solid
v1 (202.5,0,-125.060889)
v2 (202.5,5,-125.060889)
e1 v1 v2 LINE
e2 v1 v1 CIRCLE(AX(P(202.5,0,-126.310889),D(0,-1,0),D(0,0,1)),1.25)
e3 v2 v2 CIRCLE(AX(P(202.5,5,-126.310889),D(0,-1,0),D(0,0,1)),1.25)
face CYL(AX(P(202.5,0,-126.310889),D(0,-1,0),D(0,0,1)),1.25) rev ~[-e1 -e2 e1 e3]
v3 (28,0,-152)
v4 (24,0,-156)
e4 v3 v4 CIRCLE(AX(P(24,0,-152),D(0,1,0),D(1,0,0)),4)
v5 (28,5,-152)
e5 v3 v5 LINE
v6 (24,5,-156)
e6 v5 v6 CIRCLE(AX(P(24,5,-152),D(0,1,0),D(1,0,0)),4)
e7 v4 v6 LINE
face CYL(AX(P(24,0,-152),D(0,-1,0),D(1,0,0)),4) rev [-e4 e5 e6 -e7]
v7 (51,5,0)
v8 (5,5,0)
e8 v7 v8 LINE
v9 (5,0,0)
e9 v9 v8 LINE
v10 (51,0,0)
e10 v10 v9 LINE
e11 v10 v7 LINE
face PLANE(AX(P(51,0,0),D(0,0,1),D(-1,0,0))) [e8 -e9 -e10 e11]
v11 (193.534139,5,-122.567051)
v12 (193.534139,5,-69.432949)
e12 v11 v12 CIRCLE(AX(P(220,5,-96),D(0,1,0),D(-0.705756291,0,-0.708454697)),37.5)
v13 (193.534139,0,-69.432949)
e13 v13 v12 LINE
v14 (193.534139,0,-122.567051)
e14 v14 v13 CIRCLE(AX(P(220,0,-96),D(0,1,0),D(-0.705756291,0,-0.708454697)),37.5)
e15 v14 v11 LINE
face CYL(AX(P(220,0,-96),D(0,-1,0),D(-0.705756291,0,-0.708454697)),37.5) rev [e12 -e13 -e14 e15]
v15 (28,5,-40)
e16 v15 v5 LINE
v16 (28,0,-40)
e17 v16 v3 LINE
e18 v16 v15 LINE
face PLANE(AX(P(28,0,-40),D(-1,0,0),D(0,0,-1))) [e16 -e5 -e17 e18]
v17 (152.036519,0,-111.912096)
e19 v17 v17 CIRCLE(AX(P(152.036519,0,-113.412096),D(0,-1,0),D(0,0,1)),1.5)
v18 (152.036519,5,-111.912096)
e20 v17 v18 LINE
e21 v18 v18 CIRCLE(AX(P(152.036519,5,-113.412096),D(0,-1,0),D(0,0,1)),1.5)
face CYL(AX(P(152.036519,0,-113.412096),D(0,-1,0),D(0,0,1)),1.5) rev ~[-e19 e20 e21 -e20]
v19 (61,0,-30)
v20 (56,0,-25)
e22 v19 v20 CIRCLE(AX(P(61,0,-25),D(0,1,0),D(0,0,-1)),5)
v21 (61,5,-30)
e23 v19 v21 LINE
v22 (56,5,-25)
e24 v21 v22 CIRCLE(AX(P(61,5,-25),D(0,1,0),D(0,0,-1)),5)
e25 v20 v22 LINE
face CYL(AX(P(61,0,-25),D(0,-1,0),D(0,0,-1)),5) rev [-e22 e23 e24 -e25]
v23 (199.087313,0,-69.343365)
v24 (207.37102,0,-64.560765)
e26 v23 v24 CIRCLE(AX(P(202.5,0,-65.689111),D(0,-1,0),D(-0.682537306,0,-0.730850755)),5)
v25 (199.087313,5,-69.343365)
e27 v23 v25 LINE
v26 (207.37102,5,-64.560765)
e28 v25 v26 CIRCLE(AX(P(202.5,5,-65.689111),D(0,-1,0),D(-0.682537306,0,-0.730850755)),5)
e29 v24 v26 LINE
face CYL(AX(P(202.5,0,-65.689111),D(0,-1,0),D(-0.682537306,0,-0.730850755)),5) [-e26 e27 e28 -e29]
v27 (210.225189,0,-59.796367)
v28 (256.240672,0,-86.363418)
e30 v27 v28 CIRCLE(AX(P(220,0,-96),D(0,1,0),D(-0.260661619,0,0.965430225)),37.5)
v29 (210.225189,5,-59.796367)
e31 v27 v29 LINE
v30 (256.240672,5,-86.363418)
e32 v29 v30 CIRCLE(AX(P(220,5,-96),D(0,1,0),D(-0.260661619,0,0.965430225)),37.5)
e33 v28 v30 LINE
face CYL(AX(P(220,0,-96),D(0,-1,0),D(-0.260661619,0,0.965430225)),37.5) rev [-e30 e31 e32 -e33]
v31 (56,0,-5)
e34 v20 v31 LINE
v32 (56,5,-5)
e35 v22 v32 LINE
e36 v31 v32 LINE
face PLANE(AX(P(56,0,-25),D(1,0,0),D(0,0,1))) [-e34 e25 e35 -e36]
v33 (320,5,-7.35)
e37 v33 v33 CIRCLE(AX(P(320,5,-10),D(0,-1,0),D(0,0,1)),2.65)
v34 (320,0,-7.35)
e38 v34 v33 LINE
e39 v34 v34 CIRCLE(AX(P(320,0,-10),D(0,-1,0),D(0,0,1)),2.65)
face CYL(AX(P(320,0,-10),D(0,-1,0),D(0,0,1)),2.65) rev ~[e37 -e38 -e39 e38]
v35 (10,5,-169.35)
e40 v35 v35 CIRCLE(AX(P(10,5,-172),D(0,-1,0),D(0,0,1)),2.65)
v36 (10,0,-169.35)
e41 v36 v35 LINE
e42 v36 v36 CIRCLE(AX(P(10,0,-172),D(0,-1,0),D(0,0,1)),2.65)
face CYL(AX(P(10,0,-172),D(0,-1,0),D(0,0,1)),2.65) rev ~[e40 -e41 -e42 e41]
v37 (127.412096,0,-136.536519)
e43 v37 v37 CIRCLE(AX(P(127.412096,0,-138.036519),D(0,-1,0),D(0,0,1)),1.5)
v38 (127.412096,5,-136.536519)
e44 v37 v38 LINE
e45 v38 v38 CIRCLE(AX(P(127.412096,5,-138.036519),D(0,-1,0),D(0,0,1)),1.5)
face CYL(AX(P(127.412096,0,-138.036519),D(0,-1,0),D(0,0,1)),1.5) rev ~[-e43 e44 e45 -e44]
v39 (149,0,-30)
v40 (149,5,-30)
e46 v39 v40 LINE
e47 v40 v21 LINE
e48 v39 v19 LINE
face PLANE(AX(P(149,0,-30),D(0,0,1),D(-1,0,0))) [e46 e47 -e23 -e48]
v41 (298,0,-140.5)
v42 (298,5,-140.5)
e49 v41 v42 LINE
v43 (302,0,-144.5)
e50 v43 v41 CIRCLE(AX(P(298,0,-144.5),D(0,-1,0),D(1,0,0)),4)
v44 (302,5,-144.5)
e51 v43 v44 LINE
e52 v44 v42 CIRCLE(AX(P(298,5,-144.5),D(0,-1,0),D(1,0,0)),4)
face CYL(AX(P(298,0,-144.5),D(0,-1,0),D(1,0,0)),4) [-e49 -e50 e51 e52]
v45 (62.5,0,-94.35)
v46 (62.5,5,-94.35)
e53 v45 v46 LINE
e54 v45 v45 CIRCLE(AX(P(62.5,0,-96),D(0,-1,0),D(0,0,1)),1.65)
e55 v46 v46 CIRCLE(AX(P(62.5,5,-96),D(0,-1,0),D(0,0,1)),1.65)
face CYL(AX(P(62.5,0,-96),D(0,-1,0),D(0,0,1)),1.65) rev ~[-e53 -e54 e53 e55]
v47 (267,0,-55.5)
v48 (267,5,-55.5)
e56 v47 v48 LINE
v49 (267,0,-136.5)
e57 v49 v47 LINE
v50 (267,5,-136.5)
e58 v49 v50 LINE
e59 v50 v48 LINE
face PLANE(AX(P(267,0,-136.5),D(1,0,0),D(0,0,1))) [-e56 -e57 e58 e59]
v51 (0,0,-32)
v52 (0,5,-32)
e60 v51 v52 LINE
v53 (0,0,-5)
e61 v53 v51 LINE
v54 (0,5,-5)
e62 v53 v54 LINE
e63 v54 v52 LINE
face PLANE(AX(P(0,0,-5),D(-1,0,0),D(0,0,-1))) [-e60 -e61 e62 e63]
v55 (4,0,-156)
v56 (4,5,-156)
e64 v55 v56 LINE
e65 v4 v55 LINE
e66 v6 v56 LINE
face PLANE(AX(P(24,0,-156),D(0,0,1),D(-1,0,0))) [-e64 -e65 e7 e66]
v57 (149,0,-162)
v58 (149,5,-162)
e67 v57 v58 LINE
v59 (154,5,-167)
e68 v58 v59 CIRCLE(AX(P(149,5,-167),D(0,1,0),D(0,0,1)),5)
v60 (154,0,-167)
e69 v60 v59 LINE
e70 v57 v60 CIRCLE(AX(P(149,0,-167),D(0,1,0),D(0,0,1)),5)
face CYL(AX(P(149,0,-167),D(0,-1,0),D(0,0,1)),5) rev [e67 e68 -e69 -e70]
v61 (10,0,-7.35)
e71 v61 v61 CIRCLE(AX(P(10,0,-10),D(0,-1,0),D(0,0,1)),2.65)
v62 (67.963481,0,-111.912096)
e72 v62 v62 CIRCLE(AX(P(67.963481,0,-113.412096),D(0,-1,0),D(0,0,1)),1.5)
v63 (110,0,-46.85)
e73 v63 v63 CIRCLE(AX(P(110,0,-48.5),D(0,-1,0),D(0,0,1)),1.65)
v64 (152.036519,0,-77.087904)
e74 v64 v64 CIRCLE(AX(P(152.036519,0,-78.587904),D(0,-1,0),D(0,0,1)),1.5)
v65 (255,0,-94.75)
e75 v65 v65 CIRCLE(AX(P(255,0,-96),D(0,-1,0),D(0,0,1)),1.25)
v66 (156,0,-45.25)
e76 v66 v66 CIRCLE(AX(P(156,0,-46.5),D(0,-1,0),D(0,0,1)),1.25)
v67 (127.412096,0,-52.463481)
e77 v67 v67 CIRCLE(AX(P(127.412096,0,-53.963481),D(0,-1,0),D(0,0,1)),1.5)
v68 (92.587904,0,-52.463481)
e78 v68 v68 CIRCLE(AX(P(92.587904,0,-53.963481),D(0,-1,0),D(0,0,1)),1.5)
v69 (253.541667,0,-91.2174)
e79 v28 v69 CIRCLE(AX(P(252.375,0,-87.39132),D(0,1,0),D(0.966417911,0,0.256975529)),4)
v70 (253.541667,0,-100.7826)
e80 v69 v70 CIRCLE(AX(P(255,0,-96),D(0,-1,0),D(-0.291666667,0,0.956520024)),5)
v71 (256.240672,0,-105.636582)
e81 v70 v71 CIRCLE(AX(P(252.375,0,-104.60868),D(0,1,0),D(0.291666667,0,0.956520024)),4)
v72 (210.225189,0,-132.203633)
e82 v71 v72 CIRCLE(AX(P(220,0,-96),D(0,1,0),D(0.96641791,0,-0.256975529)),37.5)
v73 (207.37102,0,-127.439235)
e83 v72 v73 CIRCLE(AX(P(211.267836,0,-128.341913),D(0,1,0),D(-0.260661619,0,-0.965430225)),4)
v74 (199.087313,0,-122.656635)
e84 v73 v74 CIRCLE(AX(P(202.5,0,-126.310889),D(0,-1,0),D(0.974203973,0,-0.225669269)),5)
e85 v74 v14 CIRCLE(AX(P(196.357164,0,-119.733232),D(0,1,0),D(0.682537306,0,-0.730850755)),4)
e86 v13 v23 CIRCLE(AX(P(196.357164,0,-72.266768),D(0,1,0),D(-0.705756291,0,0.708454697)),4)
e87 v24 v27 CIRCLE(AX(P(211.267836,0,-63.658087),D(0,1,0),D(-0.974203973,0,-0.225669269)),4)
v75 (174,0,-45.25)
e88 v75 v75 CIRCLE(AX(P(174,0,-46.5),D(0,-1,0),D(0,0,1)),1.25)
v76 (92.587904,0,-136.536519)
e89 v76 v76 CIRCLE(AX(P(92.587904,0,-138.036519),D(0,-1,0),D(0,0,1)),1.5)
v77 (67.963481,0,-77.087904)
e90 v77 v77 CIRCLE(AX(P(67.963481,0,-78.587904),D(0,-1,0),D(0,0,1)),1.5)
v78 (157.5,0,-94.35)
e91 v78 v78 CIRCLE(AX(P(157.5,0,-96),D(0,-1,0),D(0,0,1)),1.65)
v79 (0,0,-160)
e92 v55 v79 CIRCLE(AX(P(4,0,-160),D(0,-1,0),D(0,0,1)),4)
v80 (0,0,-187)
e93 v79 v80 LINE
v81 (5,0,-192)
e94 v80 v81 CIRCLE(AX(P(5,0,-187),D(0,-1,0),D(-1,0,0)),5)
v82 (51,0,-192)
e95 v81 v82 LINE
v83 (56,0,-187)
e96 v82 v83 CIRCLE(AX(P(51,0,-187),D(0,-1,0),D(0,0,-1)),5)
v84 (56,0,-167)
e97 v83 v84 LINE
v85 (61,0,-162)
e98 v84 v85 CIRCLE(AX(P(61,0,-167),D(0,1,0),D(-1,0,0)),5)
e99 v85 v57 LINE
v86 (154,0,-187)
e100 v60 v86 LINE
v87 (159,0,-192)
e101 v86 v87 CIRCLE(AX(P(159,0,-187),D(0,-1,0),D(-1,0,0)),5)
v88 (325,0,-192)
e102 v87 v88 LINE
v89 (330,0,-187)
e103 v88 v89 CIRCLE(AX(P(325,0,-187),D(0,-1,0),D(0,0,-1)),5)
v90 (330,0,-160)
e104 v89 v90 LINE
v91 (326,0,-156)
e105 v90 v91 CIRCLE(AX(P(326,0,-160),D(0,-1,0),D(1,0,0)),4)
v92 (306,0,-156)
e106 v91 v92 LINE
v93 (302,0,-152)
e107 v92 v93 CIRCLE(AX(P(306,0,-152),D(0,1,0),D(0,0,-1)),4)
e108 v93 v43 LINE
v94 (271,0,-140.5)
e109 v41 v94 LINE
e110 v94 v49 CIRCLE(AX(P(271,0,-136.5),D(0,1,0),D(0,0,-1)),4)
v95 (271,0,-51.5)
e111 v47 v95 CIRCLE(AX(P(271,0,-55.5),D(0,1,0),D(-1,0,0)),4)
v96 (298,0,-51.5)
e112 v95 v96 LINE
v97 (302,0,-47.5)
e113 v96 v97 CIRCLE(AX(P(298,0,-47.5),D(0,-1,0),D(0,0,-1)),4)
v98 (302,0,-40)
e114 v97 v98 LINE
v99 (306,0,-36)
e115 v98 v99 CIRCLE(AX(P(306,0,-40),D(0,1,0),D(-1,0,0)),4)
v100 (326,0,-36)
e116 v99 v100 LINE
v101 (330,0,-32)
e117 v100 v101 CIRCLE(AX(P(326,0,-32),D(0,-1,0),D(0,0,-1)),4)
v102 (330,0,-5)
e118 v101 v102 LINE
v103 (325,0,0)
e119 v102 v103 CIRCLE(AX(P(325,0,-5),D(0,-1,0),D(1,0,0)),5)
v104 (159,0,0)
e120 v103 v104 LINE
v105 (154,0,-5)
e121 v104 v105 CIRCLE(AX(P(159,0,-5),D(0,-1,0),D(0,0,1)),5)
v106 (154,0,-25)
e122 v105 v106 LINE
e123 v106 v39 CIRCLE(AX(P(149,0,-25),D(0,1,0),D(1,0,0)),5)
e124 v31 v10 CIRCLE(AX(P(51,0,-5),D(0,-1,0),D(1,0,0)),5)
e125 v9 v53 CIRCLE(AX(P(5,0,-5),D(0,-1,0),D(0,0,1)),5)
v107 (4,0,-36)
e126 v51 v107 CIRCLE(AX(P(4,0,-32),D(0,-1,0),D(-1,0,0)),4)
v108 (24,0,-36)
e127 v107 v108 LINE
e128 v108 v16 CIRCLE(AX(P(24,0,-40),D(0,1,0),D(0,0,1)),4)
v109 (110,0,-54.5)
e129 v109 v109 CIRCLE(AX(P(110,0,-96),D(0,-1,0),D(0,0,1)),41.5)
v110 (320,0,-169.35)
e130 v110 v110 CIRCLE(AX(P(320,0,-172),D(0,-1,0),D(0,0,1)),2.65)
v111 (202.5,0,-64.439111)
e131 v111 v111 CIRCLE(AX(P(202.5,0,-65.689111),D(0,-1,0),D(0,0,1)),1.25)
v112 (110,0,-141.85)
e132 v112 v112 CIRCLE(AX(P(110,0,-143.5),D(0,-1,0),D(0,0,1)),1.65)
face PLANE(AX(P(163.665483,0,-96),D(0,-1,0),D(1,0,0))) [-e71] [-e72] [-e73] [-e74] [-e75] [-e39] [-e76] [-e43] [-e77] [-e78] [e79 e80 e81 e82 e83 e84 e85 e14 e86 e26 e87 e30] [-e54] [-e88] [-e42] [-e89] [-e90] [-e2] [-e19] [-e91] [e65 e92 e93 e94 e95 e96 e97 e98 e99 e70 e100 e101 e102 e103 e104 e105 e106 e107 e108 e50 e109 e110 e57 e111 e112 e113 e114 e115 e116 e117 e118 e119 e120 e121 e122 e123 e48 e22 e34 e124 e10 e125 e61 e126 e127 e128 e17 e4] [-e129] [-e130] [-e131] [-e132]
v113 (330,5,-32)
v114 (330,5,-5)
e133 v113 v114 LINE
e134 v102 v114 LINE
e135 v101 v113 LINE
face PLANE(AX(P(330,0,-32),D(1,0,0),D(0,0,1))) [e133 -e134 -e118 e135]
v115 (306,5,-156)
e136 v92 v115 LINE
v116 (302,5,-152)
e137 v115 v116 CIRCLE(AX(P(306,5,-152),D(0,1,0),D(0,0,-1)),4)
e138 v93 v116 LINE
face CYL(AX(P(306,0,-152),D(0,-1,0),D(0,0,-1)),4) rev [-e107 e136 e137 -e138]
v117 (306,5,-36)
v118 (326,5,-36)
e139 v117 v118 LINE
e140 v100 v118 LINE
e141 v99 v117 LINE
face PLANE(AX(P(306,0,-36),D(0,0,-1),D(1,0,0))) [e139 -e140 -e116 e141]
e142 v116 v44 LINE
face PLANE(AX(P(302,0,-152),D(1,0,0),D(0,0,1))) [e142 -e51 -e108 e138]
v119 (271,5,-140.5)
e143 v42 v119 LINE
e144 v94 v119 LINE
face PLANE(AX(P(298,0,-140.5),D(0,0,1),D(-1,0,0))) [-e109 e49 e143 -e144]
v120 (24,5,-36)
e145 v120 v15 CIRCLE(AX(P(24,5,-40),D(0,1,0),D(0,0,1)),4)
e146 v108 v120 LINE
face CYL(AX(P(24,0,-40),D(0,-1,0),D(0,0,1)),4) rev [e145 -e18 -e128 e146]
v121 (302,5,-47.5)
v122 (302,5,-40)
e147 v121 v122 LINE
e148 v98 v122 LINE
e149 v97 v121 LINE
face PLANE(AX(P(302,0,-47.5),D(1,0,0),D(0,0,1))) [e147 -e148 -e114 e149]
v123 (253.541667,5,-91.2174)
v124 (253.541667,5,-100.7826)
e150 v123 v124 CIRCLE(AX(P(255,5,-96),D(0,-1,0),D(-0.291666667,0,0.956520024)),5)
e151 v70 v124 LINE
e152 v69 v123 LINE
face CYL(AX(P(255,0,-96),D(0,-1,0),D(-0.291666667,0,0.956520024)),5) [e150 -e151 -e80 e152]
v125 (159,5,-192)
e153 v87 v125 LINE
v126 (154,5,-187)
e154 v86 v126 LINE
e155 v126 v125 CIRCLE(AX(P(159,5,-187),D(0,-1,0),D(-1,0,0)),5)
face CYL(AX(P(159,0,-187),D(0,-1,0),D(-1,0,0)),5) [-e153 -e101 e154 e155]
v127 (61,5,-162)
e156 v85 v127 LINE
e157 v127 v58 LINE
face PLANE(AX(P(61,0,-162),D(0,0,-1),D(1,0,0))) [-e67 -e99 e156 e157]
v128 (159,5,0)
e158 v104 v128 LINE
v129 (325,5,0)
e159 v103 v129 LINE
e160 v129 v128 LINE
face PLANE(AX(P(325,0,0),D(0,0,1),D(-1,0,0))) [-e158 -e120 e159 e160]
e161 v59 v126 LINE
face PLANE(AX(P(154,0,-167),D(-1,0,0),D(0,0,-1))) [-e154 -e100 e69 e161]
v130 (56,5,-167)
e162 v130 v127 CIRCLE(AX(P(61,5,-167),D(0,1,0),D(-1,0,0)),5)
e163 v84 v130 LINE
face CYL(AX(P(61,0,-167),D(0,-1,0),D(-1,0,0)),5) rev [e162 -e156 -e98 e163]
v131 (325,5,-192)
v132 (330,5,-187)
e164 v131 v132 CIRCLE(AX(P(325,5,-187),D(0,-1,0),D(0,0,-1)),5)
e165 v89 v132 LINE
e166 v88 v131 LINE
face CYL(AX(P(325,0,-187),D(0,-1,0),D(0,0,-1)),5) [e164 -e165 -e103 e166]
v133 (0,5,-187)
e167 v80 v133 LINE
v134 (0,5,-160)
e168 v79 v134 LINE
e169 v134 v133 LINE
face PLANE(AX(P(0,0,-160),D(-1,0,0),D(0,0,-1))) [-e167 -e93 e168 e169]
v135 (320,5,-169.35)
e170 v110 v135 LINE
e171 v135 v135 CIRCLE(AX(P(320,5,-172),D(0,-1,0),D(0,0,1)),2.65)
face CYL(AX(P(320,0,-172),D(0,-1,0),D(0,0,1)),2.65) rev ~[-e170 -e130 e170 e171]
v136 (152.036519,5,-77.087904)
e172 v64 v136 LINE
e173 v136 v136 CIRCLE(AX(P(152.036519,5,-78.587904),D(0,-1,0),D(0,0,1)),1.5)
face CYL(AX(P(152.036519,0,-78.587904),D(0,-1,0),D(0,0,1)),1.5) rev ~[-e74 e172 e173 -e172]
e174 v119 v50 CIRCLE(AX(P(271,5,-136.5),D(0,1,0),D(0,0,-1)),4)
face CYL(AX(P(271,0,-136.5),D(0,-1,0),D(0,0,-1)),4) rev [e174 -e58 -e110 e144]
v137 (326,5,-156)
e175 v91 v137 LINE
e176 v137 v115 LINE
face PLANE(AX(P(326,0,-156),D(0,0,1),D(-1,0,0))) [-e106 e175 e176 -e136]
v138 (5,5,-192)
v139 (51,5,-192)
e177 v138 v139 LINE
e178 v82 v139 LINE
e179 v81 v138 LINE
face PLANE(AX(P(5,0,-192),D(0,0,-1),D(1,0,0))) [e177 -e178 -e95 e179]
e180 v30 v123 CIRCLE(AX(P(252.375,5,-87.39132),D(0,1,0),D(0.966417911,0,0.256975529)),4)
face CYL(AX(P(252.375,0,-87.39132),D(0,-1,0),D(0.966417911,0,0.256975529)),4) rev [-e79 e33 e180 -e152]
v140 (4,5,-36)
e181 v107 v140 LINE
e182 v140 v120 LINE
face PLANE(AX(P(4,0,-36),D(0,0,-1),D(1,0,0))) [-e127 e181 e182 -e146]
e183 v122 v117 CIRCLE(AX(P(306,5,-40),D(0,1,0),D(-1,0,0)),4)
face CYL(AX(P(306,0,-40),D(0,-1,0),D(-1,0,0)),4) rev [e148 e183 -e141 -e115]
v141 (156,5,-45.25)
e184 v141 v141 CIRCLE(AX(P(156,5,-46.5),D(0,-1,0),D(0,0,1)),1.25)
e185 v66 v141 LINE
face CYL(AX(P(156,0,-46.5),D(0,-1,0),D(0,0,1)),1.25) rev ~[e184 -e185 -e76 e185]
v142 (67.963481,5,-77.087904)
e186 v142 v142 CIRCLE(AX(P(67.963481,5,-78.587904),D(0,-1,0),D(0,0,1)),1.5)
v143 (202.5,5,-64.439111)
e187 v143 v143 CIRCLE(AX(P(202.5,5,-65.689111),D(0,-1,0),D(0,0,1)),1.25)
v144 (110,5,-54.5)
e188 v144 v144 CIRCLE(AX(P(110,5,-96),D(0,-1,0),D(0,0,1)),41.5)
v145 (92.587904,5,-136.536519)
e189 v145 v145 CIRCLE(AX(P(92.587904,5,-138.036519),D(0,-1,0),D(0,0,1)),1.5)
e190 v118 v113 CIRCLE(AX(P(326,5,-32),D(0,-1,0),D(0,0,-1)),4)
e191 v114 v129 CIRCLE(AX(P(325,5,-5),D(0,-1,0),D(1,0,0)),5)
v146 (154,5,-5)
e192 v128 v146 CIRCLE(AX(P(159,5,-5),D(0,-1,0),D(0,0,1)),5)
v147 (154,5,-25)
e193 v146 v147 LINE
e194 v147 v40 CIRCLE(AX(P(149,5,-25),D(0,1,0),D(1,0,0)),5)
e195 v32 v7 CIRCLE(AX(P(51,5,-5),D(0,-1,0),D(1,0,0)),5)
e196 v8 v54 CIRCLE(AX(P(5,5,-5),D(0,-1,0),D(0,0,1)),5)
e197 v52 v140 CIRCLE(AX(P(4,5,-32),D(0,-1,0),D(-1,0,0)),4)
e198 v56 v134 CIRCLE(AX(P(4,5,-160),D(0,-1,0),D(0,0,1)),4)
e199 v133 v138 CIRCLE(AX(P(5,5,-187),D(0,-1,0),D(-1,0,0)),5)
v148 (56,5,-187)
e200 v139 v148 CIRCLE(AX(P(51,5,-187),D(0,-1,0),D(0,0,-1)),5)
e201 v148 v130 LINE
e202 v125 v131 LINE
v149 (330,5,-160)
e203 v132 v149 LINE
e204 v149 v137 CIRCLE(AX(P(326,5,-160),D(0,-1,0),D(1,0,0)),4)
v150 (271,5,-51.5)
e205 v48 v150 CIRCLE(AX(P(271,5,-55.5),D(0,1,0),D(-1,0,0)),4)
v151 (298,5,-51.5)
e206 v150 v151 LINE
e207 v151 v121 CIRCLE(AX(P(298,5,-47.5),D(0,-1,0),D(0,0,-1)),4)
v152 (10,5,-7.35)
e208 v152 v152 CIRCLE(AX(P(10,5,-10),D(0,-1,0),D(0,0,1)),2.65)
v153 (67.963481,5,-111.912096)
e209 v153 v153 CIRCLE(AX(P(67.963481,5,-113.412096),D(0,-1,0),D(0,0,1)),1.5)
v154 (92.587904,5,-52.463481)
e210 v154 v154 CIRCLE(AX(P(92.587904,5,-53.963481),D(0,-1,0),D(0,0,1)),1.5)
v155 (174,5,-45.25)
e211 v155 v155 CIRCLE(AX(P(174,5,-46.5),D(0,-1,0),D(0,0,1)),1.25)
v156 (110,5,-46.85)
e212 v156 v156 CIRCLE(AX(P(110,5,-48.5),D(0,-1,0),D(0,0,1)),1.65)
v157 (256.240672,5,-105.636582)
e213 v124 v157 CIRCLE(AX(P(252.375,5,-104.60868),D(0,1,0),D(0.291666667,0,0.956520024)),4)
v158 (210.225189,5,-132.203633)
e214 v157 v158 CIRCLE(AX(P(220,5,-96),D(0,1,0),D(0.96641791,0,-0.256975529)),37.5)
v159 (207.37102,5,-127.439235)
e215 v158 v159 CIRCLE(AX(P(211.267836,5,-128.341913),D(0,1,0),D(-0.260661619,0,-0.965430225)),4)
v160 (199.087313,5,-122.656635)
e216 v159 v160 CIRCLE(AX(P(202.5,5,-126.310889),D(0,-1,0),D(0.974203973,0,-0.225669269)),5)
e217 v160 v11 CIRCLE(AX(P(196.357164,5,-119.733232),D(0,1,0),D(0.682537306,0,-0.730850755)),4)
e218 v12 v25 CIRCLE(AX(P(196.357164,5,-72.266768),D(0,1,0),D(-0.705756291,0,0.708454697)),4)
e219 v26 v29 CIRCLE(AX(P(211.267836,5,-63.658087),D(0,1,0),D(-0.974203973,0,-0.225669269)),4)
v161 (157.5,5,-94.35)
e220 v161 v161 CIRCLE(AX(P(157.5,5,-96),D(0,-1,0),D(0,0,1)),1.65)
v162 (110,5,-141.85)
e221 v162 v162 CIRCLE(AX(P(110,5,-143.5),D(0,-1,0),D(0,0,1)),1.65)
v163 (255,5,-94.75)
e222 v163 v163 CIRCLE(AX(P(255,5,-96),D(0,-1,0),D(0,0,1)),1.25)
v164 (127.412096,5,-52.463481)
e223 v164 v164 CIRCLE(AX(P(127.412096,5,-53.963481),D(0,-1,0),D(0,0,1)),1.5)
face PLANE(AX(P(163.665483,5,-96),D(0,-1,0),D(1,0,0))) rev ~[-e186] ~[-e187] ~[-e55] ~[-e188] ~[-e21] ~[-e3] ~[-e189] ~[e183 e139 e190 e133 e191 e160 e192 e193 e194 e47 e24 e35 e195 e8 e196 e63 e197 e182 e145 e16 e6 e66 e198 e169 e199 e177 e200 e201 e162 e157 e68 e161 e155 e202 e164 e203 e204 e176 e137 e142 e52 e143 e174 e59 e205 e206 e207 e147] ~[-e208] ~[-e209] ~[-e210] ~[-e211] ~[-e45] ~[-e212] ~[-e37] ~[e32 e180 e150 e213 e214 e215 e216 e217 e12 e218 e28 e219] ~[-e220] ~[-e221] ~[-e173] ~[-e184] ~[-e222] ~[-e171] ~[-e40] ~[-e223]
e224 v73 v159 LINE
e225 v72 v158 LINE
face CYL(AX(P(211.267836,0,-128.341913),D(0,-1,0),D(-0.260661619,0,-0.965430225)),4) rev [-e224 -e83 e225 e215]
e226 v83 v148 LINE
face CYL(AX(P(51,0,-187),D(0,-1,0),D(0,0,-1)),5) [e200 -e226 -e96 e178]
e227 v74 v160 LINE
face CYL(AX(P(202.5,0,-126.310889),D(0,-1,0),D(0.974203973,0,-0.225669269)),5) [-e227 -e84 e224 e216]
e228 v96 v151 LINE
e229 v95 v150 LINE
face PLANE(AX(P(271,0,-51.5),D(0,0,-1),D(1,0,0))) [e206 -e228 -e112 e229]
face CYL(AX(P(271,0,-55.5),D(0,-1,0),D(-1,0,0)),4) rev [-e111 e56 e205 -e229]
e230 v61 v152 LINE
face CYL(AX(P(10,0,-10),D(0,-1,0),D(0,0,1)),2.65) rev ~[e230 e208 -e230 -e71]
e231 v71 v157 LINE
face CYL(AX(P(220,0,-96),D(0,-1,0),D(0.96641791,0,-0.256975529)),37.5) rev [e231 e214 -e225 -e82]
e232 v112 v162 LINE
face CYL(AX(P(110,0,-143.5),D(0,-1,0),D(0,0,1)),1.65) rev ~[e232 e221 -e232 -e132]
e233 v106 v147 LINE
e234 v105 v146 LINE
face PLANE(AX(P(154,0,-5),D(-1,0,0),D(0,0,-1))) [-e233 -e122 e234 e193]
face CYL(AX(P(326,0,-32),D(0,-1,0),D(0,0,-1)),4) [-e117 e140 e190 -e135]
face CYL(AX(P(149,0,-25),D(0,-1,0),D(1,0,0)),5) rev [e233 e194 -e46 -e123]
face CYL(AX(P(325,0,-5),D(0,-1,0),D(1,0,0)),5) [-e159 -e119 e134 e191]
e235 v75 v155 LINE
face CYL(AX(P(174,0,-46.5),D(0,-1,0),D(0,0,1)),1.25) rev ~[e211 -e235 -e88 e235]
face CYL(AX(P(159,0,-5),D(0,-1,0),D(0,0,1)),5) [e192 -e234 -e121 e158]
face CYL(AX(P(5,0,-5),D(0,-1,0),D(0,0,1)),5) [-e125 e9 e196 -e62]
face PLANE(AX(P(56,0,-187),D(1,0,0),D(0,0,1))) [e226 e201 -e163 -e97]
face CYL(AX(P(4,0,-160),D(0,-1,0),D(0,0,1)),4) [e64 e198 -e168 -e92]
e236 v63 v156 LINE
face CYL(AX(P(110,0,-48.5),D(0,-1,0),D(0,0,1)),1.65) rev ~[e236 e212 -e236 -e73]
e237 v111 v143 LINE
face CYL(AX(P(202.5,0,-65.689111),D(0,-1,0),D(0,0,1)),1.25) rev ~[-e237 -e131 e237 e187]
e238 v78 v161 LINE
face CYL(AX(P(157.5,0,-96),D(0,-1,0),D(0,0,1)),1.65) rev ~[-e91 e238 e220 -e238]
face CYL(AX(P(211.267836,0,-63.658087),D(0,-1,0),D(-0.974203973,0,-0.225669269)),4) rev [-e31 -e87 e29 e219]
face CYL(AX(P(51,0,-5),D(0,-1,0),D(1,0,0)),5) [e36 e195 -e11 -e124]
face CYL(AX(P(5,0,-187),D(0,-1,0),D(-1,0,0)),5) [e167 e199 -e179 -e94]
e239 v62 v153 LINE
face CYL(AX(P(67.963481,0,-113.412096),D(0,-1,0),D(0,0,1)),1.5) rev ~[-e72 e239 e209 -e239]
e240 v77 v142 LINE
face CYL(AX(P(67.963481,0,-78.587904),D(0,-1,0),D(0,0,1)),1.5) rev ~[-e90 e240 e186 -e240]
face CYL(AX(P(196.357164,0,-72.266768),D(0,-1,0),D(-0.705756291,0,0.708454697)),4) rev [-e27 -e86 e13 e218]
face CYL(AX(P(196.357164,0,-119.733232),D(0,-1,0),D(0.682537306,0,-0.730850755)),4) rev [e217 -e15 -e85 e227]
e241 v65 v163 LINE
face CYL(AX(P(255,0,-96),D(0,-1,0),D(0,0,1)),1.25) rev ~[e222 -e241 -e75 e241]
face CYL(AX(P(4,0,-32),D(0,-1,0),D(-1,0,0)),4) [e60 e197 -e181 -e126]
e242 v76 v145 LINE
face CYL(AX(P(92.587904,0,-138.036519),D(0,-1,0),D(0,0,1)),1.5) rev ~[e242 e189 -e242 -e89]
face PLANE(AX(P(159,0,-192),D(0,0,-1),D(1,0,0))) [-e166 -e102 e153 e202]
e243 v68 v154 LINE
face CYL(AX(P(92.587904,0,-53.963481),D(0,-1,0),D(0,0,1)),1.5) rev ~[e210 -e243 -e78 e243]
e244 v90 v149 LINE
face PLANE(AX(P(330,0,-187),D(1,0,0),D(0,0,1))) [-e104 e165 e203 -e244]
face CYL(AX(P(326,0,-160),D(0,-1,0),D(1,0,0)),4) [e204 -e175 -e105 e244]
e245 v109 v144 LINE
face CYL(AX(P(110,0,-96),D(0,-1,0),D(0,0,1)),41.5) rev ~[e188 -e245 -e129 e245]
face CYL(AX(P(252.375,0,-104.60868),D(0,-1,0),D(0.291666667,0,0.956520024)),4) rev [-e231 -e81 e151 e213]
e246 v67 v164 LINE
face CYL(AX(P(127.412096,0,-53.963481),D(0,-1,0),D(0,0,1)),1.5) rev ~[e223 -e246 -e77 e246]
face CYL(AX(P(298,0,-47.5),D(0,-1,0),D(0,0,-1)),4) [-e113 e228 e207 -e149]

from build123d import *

# Parameters (mm, degrees)
SKETCH1_R           = 1.5
SKETCH1_R_2         = 41.5
SKETCH1_R_3         = 2.65
SKETCH1_R_4         = 1.65
SKETCH1_R_5         = 1.25
BOSS_EXTRUDE1_DEPTH = 5


with BuildPart() as part:
    # Sketch1 → Boss-Extrude1 (new body)
    with BuildSketch(Plane.XZ):
        with BuildLine():
            Line((159, -192), (325, -192))
            ThreePointArc((325, -192), (328.535533906, -190.535533906), (330, -187))
            Line((330, -187), (330, -160))
            ThreePointArc((330, -160), (328.828427125, -157.171572875), (326, -156))
            Line((326, -156), (306, -156))
            ThreePointArc((306, -156), (303.171572875, -154.828427125), (302, -152))
            Line((302, -152), (302, -144.5))
            ThreePointArc((302, -144.5), (300.828427125, -141.671572875), (298, -140.5))
            Line((298, -140.5), (271, -140.5))
            ThreePointArc((271, -140.5), (268.171572875, -139.328427125), (267, -136.5))
            Line((267, -136.5), (267, -55.5))
            ThreePointArc((267, -55.5), (268.171572875, -52.671572875), (271, -51.5))
            Line((271, -51.5), (298, -51.5))
            ThreePointArc((298, -51.5), (300.828427125, -50.328427125), (302, -47.5))
            Line((302, -47.5), (302, -40))
            ThreePointArc((302, -40), (303.171572875, -37.171572875), (306, -36))
            Line((306, -36), (326, -36))
            ThreePointArc((326, -36), (328.828427125, -34.828427125), (330, -32))
            Line((330, -32), (330, -5))
            ThreePointArc((330, -5), (328.535533906, -1.464466094), (325, 0))
            Line((325, 0), (159, 0))
            ThreePointArc((159, 0), (155.464466094, -1.464466094), (154, -5))
            Line((154, -5), (154, -25))
            ThreePointArc((154, -25), (152.535533906, -28.535533906), (149, -30))
            Line((149, -30), (61, -30))
            ThreePointArc((61, -30), (57.464466094, -28.535533906), (56, -25))
            Line((56, -25), (56, -5))
            ThreePointArc((56, -5), (54.535533906, -1.464466094), (51, 0))
            Line((51, 0), (5, 0))
            ThreePointArc((5, 0), (1.464466094, -1.464466094), (0, -5))
            Line((0, -5), (0, -32))
            ThreePointArc((0, -32), (1.171572875, -34.828427125), (4, -36))
            Line((4, -36), (24, -36))
            ThreePointArc((24, -36), (26.828427125, -37.171572875), (28, -40))
            Line((28, -40), (28, -152))
            ThreePointArc((28, -152), (26.828427125, -154.828427125), (24, -156))
            Line((24, -156), (4, -156))
            ThreePointArc((4, -156), (1.171572875, -157.171572875), (0, -160))
            Line((0, -160), (0, -187))
            ThreePointArc((0, -187), (1.464466094, -190.535533906), (5, -192))
            Line((5, -192), (51, -192))
            ThreePointArc((51, -192), (54.535533906, -190.535533906), (56, -187))
            Line((56, -187), (56, -167))
            ThreePointArc((56, -167), (57.464466094, -163.464466094), (61, -162))
            Line((61, -162), (149, -162))
            ThreePointArc((149, -162), (152.535533906, -163.464466094), (154, -167))
            Line((154, -167), (154, -187))
            ThreePointArc((154, -187), (155.464466094, -190.535533906), (159, -192))
        make_face()
        with Locations(Location((92.587903827, -138.036518729, 0), (0, 0, 90))):
            Circle(SKETCH1_R, mode=Mode.SUBTRACT)
        with Locations(Location((127.412096173, -138.036518729, 0), (0, 0, 90))):
            Circle(SKETCH1_R, mode=Mode.SUBTRACT)
        with Locations(Location((152.036518729, -113.412096173, 0), (0, 0, 90))):
            Circle(SKETCH1_R, mode=Mode.SUBTRACT)
        with Locations(Location((152.036518729, -78.587903827, 0), (0, 0, 90))):
            Circle(SKETCH1_R, mode=Mode.SUBTRACT)
        with Locations(Location((127.412096173, -53.963481271, 0), (0, 0, 90))):
            Circle(SKETCH1_R, mode=Mode.SUBTRACT)
        with Locations(Location((92.587903827, -53.963481271, 0), (0, 0, 90))):
            Circle(SKETCH1_R, mode=Mode.SUBTRACT)
        with Locations(Location((67.963481271, -78.587903827, 0), (0, 0, 90))):
            Circle(SKETCH1_R, mode=Mode.SUBTRACT)
        with Locations(Location((67.963481271, -113.412096173, 0), (0, 0, 90))):
            Circle(SKETCH1_R, mode=Mode.SUBTRACT)
        with Locations(Location((110, -96, 0), (0, 0, 90))):
            Circle(SKETCH1_R_2, mode=Mode.SUBTRACT)
        with Locations(Location((320, -172, 0), (0, 0, 90))):
            Circle(SKETCH1_R_3, mode=Mode.SUBTRACT)
        with Locations(Location((320, -10, 0), (0, 0, 90))):
            Circle(SKETCH1_R_3, mode=Mode.SUBTRACT)
        with Locations(Location((10, -10, 0), (0, 0, 90))):
            Circle(SKETCH1_R_3, mode=Mode.SUBTRACT)
        with Locations(Location((10, -172, 0), (0, 0, 90))):
            Circle(SKETCH1_R_3, mode=Mode.SUBTRACT)
        with Locations(Location((110, -143.5, 0), (0, 0, 90))):
            Circle(SKETCH1_R_4, mode=Mode.SUBTRACT)
        with Locations(Location((62.5, -96, 0), (0, 0, 90))):
            Circle(SKETCH1_R_4, mode=Mode.SUBTRACT)
        with Locations(Location((110, -48.5, 0), (0, 0, 90))):
            Circle(SKETCH1_R_4, mode=Mode.SUBTRACT)
        with Locations(Location((157.5, -96, 0), (0, 0, 90))):
            Circle(SKETCH1_R_4, mode=Mode.SUBTRACT)
        with Locations(Location((202.5, -126.310889132, 0), (0, 0, 90))):
            Circle(SKETCH1_R_5, mode=Mode.SUBTRACT)
        with Locations(Location((255, -96, 0), (0, 0, 90))):
            Circle(SKETCH1_R_5, mode=Mode.SUBTRACT)
        with Locations(Location((202.5, -65.689110868, 0), (0, 0, 90))):
            Circle(SKETCH1_R_5, mode=Mode.SUBTRACT)
        with Locations(Location((156, -46.5, 0), (0, 0, 90))):
            Circle(SKETCH1_R_5, mode=Mode.SUBTRACT)
        with Locations(Location((174, -46.5, 0), (0, 0, 90))):
            Circle(SKETCH1_R_5, mode=Mode.SUBTRACT)
        with BuildLine():
            ThreePointArc((210.22518928, -59.796366544), (238.75, -63.524047358), (256.240671642, -86.363417673))
            ThreePointArc((256.240671642, -86.363417673), (255.870910902, -89.335183714), (253.541666667, -91.217399882))
            ThreePointArc((253.541666667, -91.217399882), (250, -96), (253.541666667, -100.782600118))
            ThreePointArc((253.541666667, -100.782600118), (255.870910902, -102.664816286), (256.240671642, -105.636582327))
            ThreePointArc((256.240671642, -105.636582327), (238.75, -128.475952642), (210.22518928, -132.203633456))
            ThreePointArc((210.22518928, -132.203633456), (207.836444764, -130.397528241), (207.371019865, -127.439235478))
            ThreePointArc((207.371019865, -127.439235478), (205, -121.980762114), (199.087313468, -122.65663536))
            ThreePointArc((199.087313468, -122.65663536), (196.292644334, -123.732711955), (193.534139078, -122.567051128))
            ThreePointArc((193.534139078, -122.567051128), (182.5, -96), (193.534139078, -69.432948872))
            ThreePointArc((193.534139078, -69.432948872), (196.292644334, -68.267288045), (199.087313468, -69.34336464))
            ThreePointArc((199.087313468, -69.34336464), (205, -70.019237886), (207.371019865, -64.560764522))
            ThreePointArc((207.371019865, -64.560764522), (207.836444764, -61.602471759), (210.22518928, -59.796366544))
        make_face(mode=Mode.SUBTRACT)
    extrude(amount=-BOSS_EXTRUDE1_DEPTH)


solid = part.part
